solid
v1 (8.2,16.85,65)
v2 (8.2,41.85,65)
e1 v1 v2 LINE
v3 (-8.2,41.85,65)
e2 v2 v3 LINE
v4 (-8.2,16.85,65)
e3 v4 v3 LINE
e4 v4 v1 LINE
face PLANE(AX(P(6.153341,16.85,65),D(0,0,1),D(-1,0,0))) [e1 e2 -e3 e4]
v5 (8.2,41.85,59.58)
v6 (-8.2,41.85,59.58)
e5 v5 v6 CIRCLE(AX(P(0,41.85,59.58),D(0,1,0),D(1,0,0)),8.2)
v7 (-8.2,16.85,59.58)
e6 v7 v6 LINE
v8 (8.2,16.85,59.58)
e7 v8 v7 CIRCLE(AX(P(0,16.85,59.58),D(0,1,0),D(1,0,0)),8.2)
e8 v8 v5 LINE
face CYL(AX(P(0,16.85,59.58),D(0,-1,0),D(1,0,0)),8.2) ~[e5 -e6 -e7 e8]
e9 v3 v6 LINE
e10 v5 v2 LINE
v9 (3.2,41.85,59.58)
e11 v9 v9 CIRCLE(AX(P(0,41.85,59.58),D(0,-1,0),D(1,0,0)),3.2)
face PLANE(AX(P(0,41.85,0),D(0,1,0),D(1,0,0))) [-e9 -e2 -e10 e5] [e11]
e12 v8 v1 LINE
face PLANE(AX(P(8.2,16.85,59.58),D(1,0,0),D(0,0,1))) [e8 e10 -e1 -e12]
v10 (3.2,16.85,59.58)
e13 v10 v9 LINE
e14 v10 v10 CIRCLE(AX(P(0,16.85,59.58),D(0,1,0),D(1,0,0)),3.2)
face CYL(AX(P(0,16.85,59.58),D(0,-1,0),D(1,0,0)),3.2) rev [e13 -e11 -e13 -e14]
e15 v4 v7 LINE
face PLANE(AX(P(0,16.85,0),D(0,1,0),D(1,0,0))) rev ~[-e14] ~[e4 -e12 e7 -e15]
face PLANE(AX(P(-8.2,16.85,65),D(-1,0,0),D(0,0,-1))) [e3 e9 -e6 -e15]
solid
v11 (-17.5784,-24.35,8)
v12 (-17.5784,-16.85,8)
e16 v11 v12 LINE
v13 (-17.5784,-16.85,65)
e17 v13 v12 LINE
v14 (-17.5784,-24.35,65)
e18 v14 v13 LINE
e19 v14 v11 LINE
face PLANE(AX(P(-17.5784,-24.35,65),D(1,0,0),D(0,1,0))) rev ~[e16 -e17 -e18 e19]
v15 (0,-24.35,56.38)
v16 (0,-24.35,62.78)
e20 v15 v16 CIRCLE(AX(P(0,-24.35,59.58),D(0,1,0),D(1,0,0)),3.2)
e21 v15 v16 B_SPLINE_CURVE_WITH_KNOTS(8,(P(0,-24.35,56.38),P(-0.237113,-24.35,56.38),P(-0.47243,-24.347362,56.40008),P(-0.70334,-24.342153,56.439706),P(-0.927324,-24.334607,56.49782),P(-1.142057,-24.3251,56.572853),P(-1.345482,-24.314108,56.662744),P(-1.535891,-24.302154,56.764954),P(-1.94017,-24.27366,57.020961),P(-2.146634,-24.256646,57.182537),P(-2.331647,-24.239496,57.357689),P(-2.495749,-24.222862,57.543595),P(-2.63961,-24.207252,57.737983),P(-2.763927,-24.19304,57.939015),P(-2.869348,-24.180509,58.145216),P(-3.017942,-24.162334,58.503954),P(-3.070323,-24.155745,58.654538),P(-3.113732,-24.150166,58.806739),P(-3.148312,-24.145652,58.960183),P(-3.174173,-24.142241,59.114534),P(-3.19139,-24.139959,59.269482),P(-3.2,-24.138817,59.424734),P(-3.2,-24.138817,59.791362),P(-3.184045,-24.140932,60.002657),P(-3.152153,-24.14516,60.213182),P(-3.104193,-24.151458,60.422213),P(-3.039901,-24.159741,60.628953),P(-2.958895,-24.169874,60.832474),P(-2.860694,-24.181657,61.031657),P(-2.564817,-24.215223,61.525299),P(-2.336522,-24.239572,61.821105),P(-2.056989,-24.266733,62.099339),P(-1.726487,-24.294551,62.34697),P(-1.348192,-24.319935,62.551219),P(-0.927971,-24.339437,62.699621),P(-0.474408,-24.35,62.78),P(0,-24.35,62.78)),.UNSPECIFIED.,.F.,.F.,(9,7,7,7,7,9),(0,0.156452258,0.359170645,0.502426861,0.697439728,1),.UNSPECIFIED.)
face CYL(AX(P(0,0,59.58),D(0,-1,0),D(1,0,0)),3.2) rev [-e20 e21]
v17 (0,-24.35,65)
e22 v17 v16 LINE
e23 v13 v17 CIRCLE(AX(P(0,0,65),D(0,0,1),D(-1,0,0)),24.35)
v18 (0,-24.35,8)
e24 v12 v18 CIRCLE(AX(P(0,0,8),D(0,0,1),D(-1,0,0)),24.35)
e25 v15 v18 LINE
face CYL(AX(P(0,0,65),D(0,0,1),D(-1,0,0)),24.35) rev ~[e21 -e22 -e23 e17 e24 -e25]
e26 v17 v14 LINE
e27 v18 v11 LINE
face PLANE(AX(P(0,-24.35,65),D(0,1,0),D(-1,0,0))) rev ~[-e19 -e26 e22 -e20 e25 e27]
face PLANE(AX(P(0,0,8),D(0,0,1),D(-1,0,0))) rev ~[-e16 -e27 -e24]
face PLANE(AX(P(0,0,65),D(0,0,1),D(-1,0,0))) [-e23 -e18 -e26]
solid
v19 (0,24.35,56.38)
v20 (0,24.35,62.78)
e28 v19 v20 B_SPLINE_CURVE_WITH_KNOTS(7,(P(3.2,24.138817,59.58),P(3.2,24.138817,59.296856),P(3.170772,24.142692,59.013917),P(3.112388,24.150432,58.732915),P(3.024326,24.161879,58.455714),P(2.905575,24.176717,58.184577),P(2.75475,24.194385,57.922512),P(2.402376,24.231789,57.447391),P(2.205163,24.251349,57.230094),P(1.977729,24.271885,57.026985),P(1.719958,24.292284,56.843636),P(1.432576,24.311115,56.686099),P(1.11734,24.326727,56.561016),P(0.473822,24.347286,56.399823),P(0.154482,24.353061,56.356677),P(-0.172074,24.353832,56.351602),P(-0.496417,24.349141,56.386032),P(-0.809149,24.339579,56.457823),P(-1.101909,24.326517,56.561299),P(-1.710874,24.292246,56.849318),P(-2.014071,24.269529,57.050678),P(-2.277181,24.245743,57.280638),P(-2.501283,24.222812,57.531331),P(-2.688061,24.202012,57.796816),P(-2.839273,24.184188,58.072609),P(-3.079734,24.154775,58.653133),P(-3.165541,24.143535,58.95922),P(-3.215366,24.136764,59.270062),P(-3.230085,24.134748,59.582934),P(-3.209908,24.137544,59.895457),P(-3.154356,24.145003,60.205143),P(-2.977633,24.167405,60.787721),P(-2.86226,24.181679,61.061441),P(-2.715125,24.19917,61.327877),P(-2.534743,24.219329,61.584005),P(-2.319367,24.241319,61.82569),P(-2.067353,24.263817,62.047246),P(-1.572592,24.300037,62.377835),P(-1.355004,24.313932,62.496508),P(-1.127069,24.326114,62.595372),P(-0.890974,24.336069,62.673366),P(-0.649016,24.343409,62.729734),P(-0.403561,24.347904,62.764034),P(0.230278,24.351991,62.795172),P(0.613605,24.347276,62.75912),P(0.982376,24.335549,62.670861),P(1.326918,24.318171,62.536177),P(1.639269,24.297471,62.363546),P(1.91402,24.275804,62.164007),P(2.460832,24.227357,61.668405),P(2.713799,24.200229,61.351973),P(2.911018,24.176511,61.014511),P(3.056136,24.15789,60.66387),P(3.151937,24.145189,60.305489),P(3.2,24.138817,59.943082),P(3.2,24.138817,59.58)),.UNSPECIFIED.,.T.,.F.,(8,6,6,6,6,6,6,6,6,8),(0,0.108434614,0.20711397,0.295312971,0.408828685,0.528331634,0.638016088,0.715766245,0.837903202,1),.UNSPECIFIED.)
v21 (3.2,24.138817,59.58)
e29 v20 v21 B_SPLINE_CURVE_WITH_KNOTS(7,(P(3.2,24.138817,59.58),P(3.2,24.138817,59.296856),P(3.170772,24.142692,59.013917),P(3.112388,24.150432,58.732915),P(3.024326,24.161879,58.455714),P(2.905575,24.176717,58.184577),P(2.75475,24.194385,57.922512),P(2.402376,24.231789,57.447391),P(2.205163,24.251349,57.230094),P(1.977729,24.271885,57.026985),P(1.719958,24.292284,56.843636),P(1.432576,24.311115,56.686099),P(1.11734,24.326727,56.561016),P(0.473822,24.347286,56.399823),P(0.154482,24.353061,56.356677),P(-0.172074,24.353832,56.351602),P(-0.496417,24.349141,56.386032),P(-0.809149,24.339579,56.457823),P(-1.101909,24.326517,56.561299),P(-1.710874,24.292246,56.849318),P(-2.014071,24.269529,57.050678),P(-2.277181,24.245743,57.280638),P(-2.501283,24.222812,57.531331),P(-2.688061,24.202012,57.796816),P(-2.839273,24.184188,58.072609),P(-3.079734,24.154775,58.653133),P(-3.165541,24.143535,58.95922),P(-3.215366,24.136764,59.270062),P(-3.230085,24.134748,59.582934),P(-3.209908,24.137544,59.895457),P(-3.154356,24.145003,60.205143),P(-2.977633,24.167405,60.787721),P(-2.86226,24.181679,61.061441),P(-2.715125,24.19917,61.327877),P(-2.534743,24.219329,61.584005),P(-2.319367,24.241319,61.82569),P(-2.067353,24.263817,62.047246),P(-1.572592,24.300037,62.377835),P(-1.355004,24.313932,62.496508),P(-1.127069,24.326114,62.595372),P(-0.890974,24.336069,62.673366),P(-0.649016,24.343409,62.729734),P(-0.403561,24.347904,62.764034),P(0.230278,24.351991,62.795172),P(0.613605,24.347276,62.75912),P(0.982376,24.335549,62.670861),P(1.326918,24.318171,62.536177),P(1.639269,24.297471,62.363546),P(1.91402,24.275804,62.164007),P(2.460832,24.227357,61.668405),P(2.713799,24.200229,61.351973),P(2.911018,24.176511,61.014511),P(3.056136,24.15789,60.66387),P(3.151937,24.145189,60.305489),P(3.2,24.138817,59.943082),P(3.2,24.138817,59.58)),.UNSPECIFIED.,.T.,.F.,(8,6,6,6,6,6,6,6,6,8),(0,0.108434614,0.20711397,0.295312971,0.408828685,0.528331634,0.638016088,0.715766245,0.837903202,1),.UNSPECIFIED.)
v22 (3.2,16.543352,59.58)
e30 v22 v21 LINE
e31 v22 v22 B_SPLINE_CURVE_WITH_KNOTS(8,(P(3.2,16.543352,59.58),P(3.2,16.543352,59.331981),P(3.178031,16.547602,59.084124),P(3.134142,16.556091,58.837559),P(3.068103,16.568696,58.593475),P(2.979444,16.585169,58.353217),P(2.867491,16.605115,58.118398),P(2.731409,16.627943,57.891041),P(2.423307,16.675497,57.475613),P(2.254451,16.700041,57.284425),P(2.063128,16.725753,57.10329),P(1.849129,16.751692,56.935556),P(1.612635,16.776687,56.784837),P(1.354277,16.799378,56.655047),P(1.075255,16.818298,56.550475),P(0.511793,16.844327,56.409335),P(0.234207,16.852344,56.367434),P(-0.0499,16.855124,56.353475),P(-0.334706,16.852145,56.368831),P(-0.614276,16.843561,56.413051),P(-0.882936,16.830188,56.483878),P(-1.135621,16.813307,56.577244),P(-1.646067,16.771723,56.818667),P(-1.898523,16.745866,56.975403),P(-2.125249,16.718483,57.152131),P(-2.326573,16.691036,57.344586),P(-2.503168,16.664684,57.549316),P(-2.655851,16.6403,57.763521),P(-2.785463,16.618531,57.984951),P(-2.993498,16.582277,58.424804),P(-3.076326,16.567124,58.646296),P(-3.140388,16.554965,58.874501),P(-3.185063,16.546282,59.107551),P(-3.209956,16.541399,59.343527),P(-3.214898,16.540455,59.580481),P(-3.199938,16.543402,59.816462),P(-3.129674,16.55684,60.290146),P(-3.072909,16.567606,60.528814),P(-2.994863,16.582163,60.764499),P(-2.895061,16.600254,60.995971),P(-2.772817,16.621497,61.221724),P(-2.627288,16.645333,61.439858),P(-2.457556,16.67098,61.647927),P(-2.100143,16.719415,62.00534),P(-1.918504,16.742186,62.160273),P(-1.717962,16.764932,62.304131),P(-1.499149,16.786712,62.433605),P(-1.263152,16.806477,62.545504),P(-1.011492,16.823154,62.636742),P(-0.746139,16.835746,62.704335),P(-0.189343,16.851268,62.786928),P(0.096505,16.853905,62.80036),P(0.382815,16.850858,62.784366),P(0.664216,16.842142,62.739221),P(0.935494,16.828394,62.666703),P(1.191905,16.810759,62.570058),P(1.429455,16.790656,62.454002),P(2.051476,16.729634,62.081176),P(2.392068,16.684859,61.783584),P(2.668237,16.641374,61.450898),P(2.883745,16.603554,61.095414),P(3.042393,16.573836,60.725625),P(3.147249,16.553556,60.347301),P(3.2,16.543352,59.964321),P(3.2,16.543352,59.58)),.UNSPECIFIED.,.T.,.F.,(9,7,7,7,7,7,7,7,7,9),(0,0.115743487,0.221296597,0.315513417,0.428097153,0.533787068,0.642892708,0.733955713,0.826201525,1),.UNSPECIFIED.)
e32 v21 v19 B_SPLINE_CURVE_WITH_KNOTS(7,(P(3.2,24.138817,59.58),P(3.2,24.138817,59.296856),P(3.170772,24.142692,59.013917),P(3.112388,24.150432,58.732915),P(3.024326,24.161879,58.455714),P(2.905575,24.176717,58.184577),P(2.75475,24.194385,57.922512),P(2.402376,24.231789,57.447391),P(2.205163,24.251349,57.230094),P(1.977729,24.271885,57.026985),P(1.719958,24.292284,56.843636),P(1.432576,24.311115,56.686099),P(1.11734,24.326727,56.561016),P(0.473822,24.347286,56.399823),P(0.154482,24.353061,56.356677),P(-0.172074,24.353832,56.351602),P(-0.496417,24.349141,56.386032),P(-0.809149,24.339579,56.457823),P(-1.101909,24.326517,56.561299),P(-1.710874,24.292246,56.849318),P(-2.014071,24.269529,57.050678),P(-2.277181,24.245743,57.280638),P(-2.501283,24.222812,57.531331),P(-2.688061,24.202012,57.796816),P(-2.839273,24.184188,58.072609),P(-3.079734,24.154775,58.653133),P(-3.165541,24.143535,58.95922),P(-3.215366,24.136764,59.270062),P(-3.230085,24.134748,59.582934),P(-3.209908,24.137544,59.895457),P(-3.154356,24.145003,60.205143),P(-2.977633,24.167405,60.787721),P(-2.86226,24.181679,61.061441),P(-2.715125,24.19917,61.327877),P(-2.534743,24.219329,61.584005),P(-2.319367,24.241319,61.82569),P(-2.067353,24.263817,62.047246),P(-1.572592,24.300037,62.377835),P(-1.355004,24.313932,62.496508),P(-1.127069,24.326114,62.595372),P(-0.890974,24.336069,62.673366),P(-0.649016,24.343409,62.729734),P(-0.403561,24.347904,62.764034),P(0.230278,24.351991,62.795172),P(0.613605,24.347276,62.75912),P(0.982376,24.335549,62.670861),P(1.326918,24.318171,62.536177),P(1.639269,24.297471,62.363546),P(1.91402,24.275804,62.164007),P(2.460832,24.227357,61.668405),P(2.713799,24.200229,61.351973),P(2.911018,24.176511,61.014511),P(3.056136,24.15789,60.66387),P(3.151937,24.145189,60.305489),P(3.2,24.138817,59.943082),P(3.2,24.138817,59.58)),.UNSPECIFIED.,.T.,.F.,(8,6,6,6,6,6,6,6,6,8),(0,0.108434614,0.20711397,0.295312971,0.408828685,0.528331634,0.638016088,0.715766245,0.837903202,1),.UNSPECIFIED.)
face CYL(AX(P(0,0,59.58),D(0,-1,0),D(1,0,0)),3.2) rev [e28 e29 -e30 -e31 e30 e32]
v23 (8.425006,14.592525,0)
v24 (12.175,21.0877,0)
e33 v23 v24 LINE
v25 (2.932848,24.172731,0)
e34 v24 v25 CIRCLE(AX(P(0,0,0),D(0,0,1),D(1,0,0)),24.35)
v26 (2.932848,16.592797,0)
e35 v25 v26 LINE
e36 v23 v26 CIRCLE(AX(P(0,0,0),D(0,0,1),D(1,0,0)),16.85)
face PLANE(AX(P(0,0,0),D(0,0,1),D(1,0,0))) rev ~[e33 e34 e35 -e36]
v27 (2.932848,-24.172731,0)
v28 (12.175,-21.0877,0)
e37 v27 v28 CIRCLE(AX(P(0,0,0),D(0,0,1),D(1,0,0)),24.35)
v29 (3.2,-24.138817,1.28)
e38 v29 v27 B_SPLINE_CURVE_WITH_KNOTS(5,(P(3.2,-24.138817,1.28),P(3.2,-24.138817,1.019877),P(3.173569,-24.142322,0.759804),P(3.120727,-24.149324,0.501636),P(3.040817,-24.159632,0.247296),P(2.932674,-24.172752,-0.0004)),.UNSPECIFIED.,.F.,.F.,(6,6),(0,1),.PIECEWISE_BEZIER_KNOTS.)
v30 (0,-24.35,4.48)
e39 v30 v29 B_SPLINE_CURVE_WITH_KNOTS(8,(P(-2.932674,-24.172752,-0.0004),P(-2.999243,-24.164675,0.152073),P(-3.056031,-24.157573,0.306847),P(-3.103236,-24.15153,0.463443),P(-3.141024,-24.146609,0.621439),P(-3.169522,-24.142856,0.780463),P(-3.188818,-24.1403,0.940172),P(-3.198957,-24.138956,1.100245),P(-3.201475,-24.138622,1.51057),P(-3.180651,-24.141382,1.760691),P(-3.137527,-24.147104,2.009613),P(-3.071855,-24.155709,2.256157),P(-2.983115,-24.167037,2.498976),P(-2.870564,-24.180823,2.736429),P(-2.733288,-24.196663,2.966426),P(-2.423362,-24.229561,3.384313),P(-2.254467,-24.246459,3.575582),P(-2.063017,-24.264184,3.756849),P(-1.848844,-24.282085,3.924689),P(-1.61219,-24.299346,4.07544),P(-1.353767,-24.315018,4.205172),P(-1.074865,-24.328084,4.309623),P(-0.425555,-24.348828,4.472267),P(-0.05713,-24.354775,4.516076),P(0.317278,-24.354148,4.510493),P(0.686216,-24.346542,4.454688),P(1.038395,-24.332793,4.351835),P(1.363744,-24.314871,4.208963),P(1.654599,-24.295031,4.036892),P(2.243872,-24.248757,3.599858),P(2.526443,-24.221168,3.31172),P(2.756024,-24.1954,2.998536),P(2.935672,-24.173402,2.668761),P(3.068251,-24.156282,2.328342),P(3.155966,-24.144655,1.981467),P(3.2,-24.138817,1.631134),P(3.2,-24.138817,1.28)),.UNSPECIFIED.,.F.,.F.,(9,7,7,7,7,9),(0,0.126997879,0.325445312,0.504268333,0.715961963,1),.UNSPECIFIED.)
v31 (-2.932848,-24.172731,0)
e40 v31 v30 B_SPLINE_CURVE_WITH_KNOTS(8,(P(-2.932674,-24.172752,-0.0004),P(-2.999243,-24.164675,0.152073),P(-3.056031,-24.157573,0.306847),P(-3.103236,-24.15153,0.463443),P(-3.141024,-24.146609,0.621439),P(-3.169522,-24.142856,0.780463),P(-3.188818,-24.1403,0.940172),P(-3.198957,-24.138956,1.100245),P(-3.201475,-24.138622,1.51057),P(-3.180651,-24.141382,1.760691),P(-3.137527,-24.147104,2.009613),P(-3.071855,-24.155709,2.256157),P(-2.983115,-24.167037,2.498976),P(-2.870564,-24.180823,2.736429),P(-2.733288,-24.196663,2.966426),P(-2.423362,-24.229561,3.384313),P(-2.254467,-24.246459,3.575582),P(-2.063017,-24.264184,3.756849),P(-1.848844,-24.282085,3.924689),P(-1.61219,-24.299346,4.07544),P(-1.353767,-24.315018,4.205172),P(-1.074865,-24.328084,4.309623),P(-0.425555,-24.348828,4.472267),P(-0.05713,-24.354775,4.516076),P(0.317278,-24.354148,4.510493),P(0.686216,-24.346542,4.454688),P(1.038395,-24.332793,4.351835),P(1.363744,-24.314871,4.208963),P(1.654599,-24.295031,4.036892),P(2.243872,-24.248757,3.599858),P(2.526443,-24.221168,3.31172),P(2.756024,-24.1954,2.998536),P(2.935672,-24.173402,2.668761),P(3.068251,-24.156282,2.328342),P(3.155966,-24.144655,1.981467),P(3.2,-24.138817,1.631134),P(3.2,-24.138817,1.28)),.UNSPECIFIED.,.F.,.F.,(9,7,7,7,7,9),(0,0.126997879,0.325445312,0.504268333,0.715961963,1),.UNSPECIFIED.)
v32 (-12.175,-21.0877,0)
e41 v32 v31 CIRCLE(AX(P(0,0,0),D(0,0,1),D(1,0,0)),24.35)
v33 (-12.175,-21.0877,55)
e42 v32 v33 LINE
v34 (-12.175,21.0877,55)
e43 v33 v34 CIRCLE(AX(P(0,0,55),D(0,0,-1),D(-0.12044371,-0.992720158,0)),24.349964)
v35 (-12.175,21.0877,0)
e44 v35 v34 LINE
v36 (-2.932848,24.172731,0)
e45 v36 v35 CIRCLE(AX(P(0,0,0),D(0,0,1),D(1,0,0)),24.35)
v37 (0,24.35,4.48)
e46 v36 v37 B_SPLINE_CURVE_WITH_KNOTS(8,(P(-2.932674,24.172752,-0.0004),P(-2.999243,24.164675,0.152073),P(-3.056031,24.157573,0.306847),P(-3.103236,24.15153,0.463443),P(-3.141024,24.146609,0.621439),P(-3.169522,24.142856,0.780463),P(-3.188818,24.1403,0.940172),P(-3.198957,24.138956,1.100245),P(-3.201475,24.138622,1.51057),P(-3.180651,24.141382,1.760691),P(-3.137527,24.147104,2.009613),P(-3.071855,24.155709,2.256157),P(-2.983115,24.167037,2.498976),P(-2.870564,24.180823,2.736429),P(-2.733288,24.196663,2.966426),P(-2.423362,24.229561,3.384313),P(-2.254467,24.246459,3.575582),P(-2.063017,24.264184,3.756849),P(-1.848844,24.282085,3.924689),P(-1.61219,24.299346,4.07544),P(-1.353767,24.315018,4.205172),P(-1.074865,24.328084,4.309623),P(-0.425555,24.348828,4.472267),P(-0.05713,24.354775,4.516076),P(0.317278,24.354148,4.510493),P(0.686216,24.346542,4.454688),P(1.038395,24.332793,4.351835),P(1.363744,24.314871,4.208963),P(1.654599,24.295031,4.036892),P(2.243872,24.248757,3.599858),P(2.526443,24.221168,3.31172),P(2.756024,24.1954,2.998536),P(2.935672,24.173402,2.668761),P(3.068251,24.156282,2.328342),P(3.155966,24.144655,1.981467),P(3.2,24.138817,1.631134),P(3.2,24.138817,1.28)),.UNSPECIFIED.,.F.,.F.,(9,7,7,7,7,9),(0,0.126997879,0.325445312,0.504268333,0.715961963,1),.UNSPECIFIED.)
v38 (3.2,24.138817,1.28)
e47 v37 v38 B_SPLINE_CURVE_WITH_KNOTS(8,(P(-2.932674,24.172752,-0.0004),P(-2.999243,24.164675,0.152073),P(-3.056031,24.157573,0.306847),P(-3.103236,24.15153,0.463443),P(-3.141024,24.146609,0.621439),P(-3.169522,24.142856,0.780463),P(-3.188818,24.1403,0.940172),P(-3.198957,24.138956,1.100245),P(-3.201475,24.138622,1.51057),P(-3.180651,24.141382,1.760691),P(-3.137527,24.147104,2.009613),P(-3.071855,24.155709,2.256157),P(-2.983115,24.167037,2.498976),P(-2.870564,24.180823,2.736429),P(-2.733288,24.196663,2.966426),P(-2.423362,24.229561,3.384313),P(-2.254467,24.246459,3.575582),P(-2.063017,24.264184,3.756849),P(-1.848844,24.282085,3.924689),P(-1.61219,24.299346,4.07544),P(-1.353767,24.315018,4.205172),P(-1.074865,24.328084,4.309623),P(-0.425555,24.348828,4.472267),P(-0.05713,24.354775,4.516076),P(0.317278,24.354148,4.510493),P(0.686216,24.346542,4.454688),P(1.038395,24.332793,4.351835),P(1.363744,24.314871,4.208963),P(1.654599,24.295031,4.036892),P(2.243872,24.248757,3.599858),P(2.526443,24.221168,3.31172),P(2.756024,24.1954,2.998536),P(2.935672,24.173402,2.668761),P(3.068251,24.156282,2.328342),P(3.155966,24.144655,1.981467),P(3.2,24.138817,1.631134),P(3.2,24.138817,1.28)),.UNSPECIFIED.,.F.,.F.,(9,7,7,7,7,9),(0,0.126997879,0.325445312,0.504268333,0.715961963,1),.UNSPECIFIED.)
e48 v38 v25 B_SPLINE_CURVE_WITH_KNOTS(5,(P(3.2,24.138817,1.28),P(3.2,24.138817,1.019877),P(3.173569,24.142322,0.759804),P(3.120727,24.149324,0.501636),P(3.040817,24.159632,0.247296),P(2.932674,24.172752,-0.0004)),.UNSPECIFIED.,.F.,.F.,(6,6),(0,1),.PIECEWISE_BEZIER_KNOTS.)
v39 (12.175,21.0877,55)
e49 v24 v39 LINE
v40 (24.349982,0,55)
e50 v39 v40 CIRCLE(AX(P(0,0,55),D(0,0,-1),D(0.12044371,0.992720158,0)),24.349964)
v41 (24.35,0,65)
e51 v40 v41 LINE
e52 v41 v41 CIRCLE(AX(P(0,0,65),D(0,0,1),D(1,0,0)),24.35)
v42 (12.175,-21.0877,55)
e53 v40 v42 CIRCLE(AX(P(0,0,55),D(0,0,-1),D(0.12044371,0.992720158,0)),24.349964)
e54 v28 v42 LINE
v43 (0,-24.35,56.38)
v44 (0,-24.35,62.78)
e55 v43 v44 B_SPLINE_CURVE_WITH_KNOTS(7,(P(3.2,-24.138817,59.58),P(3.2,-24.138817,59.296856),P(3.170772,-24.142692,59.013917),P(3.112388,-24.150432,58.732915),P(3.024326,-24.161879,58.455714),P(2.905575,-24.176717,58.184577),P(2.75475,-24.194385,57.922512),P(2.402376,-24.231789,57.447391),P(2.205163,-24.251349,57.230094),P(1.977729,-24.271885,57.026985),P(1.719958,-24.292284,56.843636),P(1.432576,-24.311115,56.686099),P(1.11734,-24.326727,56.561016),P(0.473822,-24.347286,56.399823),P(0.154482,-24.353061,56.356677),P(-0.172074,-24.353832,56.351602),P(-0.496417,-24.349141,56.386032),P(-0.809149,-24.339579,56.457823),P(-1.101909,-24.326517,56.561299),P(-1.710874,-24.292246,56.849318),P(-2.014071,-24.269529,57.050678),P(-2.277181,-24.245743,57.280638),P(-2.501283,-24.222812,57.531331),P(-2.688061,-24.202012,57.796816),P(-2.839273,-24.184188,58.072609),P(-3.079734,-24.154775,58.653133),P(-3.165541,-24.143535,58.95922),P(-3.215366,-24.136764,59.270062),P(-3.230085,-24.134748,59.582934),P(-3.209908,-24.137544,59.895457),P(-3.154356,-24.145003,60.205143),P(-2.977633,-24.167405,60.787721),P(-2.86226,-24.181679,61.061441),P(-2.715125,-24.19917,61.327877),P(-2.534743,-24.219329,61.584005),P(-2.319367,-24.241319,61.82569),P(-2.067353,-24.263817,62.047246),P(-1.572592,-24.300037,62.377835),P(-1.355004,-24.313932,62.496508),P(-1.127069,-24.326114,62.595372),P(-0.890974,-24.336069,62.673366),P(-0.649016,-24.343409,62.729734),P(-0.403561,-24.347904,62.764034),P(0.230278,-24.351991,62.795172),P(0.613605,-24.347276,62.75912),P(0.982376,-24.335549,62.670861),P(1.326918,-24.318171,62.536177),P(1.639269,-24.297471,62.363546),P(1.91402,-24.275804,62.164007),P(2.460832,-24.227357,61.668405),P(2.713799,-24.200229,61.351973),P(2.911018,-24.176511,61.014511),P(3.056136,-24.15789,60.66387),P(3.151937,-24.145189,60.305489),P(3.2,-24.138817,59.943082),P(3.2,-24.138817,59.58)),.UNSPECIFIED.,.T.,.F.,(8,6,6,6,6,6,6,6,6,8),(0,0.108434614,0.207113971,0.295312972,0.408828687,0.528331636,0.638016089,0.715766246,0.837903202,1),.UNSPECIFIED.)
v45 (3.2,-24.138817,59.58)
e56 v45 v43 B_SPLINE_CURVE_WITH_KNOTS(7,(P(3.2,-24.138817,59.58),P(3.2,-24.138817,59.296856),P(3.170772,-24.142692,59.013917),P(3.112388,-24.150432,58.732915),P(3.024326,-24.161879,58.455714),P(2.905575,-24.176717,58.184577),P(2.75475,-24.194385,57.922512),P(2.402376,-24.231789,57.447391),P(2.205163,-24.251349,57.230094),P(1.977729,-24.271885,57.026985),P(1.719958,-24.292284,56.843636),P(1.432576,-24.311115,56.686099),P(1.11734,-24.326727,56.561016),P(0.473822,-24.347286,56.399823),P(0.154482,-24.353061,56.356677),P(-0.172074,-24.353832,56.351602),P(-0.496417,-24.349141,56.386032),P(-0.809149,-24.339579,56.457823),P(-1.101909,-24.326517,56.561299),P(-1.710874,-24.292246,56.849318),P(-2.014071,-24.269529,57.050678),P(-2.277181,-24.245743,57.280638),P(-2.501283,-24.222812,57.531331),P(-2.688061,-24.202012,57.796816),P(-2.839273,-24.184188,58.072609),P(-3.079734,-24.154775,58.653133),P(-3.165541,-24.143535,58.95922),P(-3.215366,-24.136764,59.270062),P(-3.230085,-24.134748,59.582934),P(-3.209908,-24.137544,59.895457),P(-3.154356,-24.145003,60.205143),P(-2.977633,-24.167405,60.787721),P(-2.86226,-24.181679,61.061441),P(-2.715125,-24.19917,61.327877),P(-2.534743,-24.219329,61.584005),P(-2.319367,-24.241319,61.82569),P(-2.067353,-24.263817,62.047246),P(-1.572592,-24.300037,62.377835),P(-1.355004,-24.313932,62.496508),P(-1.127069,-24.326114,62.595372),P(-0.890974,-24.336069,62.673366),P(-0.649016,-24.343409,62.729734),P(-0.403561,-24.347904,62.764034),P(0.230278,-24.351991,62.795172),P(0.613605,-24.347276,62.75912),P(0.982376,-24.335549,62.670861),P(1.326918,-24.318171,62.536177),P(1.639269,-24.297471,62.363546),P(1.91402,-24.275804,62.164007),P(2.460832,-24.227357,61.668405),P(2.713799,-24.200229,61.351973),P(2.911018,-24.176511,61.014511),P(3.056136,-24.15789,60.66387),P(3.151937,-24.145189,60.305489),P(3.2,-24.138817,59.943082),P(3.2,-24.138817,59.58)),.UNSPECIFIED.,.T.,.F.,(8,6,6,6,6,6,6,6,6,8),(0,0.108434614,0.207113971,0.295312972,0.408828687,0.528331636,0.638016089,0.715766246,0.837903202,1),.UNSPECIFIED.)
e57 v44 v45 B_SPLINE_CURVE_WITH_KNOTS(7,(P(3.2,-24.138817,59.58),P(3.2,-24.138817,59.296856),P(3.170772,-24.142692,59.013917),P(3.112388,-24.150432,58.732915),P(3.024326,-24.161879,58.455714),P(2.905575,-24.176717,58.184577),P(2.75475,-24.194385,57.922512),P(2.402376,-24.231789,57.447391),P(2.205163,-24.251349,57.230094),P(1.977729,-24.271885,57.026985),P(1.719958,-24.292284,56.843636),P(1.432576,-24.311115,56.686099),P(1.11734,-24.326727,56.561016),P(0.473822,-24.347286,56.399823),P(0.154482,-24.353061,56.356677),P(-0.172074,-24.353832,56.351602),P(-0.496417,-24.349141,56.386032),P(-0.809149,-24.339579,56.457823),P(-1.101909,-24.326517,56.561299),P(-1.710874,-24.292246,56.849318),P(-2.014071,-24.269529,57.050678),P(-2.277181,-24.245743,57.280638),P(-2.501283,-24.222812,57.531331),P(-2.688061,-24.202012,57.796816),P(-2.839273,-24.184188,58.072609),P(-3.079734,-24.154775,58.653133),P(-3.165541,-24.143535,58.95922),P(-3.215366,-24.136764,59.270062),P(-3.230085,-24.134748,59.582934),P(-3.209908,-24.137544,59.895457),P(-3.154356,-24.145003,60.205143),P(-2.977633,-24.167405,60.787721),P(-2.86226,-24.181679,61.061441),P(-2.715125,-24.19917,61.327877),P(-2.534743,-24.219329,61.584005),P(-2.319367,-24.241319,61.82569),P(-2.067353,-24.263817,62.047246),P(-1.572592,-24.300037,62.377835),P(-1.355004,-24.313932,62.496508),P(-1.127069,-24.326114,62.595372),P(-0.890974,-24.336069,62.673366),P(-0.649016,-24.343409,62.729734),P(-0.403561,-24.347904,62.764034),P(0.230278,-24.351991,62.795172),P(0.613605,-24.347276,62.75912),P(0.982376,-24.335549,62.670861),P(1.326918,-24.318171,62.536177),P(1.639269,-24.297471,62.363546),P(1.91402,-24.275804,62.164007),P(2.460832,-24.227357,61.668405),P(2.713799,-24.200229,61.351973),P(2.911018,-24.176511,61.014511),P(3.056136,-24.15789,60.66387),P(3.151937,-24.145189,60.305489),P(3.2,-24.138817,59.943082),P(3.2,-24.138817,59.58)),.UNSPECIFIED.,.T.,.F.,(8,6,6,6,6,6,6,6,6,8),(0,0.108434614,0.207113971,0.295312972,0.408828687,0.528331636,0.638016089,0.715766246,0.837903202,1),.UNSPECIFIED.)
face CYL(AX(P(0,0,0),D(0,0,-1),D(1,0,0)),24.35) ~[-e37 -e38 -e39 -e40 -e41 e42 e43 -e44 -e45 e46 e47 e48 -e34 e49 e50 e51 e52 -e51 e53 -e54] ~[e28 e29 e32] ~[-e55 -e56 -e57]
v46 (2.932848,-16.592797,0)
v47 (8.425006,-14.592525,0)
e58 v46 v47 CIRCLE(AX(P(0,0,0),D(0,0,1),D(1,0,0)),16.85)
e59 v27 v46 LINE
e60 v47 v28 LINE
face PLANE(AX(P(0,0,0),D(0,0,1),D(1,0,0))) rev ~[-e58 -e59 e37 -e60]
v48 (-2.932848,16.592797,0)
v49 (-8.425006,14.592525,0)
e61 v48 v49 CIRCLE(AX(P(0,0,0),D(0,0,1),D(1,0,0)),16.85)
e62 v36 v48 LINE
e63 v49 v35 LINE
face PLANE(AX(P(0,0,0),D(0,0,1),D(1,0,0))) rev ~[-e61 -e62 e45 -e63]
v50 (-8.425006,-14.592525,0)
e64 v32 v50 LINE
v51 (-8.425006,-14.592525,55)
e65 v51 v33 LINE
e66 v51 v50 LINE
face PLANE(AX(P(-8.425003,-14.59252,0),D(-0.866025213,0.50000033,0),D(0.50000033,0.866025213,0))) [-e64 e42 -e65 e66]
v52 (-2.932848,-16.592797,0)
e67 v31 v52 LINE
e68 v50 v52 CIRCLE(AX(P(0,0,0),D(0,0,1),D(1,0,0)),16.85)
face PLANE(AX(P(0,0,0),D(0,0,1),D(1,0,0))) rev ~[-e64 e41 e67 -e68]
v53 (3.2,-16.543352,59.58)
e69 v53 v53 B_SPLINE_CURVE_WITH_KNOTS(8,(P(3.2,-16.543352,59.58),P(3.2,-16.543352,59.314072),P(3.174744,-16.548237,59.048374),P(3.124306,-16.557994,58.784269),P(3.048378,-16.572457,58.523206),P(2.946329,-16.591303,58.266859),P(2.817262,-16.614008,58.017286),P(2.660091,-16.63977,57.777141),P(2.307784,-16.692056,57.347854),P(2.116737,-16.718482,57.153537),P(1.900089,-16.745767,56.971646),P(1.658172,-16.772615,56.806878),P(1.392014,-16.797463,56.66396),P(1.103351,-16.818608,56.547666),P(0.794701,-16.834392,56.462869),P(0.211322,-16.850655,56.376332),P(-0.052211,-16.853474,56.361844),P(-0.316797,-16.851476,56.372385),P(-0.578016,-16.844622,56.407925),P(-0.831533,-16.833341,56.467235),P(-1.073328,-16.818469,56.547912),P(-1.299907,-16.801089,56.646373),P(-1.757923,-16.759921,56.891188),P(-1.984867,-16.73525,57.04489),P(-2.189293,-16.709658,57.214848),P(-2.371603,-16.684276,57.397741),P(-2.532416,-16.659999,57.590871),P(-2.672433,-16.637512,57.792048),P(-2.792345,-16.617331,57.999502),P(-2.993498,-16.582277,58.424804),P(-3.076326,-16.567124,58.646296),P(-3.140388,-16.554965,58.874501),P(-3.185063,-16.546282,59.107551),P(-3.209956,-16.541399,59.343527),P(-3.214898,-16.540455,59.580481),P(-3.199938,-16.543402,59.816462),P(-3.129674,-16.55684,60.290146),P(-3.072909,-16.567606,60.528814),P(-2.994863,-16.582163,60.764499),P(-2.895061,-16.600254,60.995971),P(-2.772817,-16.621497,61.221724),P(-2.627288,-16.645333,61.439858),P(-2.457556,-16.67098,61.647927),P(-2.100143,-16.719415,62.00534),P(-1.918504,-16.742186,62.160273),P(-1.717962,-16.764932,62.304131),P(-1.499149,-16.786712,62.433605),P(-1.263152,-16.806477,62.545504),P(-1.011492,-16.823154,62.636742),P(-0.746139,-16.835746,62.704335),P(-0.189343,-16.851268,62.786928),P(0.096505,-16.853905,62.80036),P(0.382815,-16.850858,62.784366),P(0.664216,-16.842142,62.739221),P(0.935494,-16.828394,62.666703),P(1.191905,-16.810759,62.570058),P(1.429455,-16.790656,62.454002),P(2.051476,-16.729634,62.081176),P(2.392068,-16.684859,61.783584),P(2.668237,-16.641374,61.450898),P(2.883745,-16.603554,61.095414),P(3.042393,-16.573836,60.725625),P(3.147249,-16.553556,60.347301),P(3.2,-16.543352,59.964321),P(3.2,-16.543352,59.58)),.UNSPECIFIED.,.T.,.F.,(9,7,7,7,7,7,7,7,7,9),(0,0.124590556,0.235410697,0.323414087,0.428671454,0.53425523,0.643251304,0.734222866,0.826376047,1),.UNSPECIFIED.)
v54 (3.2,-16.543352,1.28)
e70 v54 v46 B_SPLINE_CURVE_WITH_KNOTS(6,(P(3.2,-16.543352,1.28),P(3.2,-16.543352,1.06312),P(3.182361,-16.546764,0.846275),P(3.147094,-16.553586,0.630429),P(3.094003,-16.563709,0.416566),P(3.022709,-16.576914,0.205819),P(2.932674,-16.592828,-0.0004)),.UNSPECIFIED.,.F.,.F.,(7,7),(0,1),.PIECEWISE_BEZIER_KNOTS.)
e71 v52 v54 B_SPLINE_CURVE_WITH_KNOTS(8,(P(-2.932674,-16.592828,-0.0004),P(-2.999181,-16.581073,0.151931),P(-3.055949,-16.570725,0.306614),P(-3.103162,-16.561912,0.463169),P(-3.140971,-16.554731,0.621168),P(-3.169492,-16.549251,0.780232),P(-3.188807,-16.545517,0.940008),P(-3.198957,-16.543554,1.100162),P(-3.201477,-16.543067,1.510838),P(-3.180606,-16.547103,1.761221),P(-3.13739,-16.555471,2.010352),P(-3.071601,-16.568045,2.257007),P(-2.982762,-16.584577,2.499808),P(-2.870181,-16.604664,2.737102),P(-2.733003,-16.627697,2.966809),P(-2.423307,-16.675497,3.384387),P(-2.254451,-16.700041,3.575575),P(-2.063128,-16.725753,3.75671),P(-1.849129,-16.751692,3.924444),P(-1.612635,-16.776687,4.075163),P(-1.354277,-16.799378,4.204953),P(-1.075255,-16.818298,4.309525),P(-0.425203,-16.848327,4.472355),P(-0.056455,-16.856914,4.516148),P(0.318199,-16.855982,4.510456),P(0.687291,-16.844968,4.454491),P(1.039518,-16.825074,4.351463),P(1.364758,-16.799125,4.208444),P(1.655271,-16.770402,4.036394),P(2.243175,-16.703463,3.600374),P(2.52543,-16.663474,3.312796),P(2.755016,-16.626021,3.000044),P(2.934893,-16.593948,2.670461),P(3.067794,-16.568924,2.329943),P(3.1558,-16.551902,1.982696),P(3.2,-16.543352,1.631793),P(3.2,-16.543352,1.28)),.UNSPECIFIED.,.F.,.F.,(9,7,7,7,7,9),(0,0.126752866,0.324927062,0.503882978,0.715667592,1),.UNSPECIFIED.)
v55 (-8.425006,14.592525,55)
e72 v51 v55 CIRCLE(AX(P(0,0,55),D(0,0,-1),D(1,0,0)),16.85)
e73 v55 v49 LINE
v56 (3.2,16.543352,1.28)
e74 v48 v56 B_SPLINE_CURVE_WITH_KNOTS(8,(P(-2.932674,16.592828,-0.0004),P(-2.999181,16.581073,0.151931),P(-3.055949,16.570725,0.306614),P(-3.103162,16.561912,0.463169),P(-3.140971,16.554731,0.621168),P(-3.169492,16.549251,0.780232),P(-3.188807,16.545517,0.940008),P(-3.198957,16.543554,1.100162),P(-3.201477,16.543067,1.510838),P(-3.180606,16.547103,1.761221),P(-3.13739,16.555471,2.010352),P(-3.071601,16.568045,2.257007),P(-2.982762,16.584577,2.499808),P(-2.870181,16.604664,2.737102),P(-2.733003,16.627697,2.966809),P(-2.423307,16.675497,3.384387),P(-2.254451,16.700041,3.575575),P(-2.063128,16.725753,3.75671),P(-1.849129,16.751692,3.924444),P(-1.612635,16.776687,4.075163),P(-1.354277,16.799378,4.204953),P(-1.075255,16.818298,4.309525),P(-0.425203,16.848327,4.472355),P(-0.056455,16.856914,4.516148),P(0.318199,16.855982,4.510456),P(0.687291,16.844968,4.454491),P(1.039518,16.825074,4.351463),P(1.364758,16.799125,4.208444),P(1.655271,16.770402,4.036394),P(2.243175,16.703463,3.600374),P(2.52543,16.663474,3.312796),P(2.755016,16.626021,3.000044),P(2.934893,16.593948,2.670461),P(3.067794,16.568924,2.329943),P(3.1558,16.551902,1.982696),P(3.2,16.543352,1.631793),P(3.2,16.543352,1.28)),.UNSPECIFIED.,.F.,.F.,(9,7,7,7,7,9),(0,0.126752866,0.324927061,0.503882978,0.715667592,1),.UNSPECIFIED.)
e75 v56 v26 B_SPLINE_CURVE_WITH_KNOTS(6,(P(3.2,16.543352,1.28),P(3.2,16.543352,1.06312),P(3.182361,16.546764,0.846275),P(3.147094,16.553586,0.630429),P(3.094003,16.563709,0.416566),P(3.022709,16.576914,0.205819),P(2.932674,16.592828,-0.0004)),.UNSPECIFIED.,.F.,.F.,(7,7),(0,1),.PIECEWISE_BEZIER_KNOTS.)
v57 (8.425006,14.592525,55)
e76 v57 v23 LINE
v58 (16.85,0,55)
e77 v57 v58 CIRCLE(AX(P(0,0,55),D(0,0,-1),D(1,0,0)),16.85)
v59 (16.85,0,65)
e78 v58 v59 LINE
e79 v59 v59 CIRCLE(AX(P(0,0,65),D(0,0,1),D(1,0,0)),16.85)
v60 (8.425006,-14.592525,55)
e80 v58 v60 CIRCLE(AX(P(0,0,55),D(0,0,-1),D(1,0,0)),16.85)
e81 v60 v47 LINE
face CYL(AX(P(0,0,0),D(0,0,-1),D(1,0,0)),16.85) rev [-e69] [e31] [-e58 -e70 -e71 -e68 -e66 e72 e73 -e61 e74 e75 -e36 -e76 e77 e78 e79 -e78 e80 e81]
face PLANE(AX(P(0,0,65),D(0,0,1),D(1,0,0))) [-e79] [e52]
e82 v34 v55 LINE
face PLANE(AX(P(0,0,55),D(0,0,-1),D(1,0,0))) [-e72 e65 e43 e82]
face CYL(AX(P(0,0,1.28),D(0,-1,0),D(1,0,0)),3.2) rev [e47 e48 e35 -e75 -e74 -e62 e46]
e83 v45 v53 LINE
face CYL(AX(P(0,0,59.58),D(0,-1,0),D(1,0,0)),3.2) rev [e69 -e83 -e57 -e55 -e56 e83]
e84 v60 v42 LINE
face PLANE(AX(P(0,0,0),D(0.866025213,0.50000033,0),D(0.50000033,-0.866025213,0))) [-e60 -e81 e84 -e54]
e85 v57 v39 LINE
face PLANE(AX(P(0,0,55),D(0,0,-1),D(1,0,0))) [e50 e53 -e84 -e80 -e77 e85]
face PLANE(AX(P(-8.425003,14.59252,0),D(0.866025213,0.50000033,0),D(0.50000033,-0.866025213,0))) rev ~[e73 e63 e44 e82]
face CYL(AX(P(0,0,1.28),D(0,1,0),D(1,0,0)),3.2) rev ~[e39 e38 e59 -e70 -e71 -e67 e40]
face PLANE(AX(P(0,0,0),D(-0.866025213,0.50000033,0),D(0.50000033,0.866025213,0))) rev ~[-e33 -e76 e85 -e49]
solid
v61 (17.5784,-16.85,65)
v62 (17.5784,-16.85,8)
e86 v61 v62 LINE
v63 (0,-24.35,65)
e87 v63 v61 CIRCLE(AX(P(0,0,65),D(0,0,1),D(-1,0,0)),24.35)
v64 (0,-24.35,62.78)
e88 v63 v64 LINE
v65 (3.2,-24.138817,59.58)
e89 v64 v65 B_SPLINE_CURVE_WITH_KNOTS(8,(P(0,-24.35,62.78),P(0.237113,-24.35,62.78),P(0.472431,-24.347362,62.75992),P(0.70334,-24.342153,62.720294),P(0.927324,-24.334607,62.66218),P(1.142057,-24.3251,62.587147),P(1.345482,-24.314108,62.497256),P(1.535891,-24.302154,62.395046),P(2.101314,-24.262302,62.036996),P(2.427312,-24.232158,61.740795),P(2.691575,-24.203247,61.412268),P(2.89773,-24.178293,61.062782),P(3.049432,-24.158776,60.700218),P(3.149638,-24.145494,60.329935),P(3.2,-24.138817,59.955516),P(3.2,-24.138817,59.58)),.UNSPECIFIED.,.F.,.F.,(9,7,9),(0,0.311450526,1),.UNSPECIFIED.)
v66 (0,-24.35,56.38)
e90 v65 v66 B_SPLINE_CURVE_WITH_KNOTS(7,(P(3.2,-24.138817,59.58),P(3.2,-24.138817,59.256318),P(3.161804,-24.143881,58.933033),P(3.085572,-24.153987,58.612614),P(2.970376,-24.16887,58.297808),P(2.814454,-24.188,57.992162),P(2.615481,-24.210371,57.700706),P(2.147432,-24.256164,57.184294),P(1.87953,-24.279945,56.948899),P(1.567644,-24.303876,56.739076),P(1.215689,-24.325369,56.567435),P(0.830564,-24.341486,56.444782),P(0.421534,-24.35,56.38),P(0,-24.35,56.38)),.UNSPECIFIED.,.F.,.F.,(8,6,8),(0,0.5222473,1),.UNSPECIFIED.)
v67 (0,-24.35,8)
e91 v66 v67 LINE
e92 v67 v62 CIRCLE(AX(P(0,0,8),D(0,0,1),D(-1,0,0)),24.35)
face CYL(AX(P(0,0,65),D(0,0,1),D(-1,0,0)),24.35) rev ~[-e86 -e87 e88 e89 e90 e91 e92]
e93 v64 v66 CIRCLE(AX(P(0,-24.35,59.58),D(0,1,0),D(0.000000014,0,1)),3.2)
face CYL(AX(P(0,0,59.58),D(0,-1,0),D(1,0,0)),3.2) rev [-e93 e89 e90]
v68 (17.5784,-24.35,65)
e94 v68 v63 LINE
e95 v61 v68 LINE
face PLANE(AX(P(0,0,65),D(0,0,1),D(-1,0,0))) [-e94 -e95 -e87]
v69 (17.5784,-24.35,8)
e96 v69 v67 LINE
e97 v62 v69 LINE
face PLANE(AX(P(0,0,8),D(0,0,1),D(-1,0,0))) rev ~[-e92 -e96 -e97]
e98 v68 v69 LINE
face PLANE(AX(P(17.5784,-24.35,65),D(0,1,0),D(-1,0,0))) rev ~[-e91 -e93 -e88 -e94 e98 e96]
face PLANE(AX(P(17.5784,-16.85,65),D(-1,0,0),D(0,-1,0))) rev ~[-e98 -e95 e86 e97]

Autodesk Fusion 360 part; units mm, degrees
sketch "Main Body" plane through (0, 0, 0) normal (0, 0, 1) x (1, 0, 0)
  circle A0 centre (0, 0) radius 16.85
  circle A1 centre (0, 0) radius 24.35
  dimension "d1" = 33.7
  dimension "d2" = 48.7
extrude "Extrude1" add sketch "Main Body" along normal blind 65 makes body 1
sketch "Cut Guide" plane through (0, 0, 0) normal (0, 1, 0) x (1, 0, 0)
  circle A0 centre (0, -1.28) radius 3.2
  circle A1 centre (0, -59.58) radius 3.2
  circle A2 centre (0, -59.58) radius 8.2
  line L0 (-8.2, -59.58) -> (8.2, -59.58)
  line L1 (8.2, -59.58) -> (8.2, -65)
  line L2 (8.2, -65) -> (-8.2, -65)
  line L3 (-8.2, -65) -> (-8.2, -59.58)
  point P0 (0, -41.6319)
  dimension "d5" = 6.4
  dimension "d6" = 1.28
  dimension "d11" = 6.4
  dimension "d12" = 58.3
  dimension "d13" = 16.4
  dimension "d33" = 5.42
extrude "Extrude2" cut sketch "Cut Guide" along normal blind 24.35 and the other way blind 24.35 contours A0 bodies 1
extrude "Extrude3" add sketch "Cut Guide" along normal blind 25 from surface at 16.85 separate body contours A1 A2 L0 L2 | A1 A2 L0 | A2 L1 L2 | A2 L2 L3 makes body 2
sketch "Side Removal" plane through (0, 0, 0) normal (0, 0, -1) x (1, 0, 0)
  line L0 (-2.9328, 16.5928) -> (-2.9328, 24.1727)
  arc A0 (-2.9328, 24.1727) -> (-2.9328, -24.1727) centre (0, 0) ccw
  line L1 (-2.9328, -24.1727) -> (-2.9328, -16.5928)
  arc A1 (-2.9328, 16.5928) -> (-2.9328, -16.5928) centre (0, 0) ccw
  line L2 (-12.175, -21.0877) -> (12.175, 21.0877)
  arc A2 (2.9328, -24.1727) -> (2.9328, 24.1727) centre (0, 0) ccw
  line L3 (-12.175, 21.0877) -> (12.175, -21.0877)
  dimension "d19" = 120
extrude "Extrude4" cut sketch "Side Removal" against normal blind 55 contours L2 A2 L3 | A1 L2 L3 | A0 A1 L2 L3 bodies 1
sketch "Flat Bottom" plane through (0, 0, 65) normal (0, 0, 1) x (-1, 0, 0)
  circle A0 centre (0, 0) radius 16.85
  circle A1 centre (0, 0) radius 24.35
  line L0 (17.5784, 16.85) -> (-17.5784, 16.85)
  line L1 (-17.5784, 16.85) -> (-17.5784, 24.35)
  line L2 (-17.5784, 24.35) -> (17.5784, 24.35)
  line L3 (17.5784, 24.35) -> (17.5784, 16.85)
extrude "Extrude6" add sketch "Flat Bottom" against normal blind 57 separate body contours A1 L2 L3 | A1 L1 L2 makes body 3 at (-14.2929, -19.7139, 27)
extrude "Extrude7" cut sketch "Cut Guide" along normal blind 24.35 and the other way blind 24.35 contours A1 L0 | A1 L0 bodies 1 3
equation "d2 = d1 + 15 mm"
equation "d3 = 65 mm"
equation "d6 = d5 / 5"
equation "d7 = d2 / 2"
equation "d9 = d2 / 2"
equation "d13 = d11 + 10 mm"
equation "d16 = ( d1 ) / 2"
equation "d21 = -( d3 - 10 mm )"
equation "d27 = -d3 + 8 mm"
equation "d29 = d2 / 2"
equation "d31 = d2 / 2"
equation "d33 = d3 - d12 - d6"
